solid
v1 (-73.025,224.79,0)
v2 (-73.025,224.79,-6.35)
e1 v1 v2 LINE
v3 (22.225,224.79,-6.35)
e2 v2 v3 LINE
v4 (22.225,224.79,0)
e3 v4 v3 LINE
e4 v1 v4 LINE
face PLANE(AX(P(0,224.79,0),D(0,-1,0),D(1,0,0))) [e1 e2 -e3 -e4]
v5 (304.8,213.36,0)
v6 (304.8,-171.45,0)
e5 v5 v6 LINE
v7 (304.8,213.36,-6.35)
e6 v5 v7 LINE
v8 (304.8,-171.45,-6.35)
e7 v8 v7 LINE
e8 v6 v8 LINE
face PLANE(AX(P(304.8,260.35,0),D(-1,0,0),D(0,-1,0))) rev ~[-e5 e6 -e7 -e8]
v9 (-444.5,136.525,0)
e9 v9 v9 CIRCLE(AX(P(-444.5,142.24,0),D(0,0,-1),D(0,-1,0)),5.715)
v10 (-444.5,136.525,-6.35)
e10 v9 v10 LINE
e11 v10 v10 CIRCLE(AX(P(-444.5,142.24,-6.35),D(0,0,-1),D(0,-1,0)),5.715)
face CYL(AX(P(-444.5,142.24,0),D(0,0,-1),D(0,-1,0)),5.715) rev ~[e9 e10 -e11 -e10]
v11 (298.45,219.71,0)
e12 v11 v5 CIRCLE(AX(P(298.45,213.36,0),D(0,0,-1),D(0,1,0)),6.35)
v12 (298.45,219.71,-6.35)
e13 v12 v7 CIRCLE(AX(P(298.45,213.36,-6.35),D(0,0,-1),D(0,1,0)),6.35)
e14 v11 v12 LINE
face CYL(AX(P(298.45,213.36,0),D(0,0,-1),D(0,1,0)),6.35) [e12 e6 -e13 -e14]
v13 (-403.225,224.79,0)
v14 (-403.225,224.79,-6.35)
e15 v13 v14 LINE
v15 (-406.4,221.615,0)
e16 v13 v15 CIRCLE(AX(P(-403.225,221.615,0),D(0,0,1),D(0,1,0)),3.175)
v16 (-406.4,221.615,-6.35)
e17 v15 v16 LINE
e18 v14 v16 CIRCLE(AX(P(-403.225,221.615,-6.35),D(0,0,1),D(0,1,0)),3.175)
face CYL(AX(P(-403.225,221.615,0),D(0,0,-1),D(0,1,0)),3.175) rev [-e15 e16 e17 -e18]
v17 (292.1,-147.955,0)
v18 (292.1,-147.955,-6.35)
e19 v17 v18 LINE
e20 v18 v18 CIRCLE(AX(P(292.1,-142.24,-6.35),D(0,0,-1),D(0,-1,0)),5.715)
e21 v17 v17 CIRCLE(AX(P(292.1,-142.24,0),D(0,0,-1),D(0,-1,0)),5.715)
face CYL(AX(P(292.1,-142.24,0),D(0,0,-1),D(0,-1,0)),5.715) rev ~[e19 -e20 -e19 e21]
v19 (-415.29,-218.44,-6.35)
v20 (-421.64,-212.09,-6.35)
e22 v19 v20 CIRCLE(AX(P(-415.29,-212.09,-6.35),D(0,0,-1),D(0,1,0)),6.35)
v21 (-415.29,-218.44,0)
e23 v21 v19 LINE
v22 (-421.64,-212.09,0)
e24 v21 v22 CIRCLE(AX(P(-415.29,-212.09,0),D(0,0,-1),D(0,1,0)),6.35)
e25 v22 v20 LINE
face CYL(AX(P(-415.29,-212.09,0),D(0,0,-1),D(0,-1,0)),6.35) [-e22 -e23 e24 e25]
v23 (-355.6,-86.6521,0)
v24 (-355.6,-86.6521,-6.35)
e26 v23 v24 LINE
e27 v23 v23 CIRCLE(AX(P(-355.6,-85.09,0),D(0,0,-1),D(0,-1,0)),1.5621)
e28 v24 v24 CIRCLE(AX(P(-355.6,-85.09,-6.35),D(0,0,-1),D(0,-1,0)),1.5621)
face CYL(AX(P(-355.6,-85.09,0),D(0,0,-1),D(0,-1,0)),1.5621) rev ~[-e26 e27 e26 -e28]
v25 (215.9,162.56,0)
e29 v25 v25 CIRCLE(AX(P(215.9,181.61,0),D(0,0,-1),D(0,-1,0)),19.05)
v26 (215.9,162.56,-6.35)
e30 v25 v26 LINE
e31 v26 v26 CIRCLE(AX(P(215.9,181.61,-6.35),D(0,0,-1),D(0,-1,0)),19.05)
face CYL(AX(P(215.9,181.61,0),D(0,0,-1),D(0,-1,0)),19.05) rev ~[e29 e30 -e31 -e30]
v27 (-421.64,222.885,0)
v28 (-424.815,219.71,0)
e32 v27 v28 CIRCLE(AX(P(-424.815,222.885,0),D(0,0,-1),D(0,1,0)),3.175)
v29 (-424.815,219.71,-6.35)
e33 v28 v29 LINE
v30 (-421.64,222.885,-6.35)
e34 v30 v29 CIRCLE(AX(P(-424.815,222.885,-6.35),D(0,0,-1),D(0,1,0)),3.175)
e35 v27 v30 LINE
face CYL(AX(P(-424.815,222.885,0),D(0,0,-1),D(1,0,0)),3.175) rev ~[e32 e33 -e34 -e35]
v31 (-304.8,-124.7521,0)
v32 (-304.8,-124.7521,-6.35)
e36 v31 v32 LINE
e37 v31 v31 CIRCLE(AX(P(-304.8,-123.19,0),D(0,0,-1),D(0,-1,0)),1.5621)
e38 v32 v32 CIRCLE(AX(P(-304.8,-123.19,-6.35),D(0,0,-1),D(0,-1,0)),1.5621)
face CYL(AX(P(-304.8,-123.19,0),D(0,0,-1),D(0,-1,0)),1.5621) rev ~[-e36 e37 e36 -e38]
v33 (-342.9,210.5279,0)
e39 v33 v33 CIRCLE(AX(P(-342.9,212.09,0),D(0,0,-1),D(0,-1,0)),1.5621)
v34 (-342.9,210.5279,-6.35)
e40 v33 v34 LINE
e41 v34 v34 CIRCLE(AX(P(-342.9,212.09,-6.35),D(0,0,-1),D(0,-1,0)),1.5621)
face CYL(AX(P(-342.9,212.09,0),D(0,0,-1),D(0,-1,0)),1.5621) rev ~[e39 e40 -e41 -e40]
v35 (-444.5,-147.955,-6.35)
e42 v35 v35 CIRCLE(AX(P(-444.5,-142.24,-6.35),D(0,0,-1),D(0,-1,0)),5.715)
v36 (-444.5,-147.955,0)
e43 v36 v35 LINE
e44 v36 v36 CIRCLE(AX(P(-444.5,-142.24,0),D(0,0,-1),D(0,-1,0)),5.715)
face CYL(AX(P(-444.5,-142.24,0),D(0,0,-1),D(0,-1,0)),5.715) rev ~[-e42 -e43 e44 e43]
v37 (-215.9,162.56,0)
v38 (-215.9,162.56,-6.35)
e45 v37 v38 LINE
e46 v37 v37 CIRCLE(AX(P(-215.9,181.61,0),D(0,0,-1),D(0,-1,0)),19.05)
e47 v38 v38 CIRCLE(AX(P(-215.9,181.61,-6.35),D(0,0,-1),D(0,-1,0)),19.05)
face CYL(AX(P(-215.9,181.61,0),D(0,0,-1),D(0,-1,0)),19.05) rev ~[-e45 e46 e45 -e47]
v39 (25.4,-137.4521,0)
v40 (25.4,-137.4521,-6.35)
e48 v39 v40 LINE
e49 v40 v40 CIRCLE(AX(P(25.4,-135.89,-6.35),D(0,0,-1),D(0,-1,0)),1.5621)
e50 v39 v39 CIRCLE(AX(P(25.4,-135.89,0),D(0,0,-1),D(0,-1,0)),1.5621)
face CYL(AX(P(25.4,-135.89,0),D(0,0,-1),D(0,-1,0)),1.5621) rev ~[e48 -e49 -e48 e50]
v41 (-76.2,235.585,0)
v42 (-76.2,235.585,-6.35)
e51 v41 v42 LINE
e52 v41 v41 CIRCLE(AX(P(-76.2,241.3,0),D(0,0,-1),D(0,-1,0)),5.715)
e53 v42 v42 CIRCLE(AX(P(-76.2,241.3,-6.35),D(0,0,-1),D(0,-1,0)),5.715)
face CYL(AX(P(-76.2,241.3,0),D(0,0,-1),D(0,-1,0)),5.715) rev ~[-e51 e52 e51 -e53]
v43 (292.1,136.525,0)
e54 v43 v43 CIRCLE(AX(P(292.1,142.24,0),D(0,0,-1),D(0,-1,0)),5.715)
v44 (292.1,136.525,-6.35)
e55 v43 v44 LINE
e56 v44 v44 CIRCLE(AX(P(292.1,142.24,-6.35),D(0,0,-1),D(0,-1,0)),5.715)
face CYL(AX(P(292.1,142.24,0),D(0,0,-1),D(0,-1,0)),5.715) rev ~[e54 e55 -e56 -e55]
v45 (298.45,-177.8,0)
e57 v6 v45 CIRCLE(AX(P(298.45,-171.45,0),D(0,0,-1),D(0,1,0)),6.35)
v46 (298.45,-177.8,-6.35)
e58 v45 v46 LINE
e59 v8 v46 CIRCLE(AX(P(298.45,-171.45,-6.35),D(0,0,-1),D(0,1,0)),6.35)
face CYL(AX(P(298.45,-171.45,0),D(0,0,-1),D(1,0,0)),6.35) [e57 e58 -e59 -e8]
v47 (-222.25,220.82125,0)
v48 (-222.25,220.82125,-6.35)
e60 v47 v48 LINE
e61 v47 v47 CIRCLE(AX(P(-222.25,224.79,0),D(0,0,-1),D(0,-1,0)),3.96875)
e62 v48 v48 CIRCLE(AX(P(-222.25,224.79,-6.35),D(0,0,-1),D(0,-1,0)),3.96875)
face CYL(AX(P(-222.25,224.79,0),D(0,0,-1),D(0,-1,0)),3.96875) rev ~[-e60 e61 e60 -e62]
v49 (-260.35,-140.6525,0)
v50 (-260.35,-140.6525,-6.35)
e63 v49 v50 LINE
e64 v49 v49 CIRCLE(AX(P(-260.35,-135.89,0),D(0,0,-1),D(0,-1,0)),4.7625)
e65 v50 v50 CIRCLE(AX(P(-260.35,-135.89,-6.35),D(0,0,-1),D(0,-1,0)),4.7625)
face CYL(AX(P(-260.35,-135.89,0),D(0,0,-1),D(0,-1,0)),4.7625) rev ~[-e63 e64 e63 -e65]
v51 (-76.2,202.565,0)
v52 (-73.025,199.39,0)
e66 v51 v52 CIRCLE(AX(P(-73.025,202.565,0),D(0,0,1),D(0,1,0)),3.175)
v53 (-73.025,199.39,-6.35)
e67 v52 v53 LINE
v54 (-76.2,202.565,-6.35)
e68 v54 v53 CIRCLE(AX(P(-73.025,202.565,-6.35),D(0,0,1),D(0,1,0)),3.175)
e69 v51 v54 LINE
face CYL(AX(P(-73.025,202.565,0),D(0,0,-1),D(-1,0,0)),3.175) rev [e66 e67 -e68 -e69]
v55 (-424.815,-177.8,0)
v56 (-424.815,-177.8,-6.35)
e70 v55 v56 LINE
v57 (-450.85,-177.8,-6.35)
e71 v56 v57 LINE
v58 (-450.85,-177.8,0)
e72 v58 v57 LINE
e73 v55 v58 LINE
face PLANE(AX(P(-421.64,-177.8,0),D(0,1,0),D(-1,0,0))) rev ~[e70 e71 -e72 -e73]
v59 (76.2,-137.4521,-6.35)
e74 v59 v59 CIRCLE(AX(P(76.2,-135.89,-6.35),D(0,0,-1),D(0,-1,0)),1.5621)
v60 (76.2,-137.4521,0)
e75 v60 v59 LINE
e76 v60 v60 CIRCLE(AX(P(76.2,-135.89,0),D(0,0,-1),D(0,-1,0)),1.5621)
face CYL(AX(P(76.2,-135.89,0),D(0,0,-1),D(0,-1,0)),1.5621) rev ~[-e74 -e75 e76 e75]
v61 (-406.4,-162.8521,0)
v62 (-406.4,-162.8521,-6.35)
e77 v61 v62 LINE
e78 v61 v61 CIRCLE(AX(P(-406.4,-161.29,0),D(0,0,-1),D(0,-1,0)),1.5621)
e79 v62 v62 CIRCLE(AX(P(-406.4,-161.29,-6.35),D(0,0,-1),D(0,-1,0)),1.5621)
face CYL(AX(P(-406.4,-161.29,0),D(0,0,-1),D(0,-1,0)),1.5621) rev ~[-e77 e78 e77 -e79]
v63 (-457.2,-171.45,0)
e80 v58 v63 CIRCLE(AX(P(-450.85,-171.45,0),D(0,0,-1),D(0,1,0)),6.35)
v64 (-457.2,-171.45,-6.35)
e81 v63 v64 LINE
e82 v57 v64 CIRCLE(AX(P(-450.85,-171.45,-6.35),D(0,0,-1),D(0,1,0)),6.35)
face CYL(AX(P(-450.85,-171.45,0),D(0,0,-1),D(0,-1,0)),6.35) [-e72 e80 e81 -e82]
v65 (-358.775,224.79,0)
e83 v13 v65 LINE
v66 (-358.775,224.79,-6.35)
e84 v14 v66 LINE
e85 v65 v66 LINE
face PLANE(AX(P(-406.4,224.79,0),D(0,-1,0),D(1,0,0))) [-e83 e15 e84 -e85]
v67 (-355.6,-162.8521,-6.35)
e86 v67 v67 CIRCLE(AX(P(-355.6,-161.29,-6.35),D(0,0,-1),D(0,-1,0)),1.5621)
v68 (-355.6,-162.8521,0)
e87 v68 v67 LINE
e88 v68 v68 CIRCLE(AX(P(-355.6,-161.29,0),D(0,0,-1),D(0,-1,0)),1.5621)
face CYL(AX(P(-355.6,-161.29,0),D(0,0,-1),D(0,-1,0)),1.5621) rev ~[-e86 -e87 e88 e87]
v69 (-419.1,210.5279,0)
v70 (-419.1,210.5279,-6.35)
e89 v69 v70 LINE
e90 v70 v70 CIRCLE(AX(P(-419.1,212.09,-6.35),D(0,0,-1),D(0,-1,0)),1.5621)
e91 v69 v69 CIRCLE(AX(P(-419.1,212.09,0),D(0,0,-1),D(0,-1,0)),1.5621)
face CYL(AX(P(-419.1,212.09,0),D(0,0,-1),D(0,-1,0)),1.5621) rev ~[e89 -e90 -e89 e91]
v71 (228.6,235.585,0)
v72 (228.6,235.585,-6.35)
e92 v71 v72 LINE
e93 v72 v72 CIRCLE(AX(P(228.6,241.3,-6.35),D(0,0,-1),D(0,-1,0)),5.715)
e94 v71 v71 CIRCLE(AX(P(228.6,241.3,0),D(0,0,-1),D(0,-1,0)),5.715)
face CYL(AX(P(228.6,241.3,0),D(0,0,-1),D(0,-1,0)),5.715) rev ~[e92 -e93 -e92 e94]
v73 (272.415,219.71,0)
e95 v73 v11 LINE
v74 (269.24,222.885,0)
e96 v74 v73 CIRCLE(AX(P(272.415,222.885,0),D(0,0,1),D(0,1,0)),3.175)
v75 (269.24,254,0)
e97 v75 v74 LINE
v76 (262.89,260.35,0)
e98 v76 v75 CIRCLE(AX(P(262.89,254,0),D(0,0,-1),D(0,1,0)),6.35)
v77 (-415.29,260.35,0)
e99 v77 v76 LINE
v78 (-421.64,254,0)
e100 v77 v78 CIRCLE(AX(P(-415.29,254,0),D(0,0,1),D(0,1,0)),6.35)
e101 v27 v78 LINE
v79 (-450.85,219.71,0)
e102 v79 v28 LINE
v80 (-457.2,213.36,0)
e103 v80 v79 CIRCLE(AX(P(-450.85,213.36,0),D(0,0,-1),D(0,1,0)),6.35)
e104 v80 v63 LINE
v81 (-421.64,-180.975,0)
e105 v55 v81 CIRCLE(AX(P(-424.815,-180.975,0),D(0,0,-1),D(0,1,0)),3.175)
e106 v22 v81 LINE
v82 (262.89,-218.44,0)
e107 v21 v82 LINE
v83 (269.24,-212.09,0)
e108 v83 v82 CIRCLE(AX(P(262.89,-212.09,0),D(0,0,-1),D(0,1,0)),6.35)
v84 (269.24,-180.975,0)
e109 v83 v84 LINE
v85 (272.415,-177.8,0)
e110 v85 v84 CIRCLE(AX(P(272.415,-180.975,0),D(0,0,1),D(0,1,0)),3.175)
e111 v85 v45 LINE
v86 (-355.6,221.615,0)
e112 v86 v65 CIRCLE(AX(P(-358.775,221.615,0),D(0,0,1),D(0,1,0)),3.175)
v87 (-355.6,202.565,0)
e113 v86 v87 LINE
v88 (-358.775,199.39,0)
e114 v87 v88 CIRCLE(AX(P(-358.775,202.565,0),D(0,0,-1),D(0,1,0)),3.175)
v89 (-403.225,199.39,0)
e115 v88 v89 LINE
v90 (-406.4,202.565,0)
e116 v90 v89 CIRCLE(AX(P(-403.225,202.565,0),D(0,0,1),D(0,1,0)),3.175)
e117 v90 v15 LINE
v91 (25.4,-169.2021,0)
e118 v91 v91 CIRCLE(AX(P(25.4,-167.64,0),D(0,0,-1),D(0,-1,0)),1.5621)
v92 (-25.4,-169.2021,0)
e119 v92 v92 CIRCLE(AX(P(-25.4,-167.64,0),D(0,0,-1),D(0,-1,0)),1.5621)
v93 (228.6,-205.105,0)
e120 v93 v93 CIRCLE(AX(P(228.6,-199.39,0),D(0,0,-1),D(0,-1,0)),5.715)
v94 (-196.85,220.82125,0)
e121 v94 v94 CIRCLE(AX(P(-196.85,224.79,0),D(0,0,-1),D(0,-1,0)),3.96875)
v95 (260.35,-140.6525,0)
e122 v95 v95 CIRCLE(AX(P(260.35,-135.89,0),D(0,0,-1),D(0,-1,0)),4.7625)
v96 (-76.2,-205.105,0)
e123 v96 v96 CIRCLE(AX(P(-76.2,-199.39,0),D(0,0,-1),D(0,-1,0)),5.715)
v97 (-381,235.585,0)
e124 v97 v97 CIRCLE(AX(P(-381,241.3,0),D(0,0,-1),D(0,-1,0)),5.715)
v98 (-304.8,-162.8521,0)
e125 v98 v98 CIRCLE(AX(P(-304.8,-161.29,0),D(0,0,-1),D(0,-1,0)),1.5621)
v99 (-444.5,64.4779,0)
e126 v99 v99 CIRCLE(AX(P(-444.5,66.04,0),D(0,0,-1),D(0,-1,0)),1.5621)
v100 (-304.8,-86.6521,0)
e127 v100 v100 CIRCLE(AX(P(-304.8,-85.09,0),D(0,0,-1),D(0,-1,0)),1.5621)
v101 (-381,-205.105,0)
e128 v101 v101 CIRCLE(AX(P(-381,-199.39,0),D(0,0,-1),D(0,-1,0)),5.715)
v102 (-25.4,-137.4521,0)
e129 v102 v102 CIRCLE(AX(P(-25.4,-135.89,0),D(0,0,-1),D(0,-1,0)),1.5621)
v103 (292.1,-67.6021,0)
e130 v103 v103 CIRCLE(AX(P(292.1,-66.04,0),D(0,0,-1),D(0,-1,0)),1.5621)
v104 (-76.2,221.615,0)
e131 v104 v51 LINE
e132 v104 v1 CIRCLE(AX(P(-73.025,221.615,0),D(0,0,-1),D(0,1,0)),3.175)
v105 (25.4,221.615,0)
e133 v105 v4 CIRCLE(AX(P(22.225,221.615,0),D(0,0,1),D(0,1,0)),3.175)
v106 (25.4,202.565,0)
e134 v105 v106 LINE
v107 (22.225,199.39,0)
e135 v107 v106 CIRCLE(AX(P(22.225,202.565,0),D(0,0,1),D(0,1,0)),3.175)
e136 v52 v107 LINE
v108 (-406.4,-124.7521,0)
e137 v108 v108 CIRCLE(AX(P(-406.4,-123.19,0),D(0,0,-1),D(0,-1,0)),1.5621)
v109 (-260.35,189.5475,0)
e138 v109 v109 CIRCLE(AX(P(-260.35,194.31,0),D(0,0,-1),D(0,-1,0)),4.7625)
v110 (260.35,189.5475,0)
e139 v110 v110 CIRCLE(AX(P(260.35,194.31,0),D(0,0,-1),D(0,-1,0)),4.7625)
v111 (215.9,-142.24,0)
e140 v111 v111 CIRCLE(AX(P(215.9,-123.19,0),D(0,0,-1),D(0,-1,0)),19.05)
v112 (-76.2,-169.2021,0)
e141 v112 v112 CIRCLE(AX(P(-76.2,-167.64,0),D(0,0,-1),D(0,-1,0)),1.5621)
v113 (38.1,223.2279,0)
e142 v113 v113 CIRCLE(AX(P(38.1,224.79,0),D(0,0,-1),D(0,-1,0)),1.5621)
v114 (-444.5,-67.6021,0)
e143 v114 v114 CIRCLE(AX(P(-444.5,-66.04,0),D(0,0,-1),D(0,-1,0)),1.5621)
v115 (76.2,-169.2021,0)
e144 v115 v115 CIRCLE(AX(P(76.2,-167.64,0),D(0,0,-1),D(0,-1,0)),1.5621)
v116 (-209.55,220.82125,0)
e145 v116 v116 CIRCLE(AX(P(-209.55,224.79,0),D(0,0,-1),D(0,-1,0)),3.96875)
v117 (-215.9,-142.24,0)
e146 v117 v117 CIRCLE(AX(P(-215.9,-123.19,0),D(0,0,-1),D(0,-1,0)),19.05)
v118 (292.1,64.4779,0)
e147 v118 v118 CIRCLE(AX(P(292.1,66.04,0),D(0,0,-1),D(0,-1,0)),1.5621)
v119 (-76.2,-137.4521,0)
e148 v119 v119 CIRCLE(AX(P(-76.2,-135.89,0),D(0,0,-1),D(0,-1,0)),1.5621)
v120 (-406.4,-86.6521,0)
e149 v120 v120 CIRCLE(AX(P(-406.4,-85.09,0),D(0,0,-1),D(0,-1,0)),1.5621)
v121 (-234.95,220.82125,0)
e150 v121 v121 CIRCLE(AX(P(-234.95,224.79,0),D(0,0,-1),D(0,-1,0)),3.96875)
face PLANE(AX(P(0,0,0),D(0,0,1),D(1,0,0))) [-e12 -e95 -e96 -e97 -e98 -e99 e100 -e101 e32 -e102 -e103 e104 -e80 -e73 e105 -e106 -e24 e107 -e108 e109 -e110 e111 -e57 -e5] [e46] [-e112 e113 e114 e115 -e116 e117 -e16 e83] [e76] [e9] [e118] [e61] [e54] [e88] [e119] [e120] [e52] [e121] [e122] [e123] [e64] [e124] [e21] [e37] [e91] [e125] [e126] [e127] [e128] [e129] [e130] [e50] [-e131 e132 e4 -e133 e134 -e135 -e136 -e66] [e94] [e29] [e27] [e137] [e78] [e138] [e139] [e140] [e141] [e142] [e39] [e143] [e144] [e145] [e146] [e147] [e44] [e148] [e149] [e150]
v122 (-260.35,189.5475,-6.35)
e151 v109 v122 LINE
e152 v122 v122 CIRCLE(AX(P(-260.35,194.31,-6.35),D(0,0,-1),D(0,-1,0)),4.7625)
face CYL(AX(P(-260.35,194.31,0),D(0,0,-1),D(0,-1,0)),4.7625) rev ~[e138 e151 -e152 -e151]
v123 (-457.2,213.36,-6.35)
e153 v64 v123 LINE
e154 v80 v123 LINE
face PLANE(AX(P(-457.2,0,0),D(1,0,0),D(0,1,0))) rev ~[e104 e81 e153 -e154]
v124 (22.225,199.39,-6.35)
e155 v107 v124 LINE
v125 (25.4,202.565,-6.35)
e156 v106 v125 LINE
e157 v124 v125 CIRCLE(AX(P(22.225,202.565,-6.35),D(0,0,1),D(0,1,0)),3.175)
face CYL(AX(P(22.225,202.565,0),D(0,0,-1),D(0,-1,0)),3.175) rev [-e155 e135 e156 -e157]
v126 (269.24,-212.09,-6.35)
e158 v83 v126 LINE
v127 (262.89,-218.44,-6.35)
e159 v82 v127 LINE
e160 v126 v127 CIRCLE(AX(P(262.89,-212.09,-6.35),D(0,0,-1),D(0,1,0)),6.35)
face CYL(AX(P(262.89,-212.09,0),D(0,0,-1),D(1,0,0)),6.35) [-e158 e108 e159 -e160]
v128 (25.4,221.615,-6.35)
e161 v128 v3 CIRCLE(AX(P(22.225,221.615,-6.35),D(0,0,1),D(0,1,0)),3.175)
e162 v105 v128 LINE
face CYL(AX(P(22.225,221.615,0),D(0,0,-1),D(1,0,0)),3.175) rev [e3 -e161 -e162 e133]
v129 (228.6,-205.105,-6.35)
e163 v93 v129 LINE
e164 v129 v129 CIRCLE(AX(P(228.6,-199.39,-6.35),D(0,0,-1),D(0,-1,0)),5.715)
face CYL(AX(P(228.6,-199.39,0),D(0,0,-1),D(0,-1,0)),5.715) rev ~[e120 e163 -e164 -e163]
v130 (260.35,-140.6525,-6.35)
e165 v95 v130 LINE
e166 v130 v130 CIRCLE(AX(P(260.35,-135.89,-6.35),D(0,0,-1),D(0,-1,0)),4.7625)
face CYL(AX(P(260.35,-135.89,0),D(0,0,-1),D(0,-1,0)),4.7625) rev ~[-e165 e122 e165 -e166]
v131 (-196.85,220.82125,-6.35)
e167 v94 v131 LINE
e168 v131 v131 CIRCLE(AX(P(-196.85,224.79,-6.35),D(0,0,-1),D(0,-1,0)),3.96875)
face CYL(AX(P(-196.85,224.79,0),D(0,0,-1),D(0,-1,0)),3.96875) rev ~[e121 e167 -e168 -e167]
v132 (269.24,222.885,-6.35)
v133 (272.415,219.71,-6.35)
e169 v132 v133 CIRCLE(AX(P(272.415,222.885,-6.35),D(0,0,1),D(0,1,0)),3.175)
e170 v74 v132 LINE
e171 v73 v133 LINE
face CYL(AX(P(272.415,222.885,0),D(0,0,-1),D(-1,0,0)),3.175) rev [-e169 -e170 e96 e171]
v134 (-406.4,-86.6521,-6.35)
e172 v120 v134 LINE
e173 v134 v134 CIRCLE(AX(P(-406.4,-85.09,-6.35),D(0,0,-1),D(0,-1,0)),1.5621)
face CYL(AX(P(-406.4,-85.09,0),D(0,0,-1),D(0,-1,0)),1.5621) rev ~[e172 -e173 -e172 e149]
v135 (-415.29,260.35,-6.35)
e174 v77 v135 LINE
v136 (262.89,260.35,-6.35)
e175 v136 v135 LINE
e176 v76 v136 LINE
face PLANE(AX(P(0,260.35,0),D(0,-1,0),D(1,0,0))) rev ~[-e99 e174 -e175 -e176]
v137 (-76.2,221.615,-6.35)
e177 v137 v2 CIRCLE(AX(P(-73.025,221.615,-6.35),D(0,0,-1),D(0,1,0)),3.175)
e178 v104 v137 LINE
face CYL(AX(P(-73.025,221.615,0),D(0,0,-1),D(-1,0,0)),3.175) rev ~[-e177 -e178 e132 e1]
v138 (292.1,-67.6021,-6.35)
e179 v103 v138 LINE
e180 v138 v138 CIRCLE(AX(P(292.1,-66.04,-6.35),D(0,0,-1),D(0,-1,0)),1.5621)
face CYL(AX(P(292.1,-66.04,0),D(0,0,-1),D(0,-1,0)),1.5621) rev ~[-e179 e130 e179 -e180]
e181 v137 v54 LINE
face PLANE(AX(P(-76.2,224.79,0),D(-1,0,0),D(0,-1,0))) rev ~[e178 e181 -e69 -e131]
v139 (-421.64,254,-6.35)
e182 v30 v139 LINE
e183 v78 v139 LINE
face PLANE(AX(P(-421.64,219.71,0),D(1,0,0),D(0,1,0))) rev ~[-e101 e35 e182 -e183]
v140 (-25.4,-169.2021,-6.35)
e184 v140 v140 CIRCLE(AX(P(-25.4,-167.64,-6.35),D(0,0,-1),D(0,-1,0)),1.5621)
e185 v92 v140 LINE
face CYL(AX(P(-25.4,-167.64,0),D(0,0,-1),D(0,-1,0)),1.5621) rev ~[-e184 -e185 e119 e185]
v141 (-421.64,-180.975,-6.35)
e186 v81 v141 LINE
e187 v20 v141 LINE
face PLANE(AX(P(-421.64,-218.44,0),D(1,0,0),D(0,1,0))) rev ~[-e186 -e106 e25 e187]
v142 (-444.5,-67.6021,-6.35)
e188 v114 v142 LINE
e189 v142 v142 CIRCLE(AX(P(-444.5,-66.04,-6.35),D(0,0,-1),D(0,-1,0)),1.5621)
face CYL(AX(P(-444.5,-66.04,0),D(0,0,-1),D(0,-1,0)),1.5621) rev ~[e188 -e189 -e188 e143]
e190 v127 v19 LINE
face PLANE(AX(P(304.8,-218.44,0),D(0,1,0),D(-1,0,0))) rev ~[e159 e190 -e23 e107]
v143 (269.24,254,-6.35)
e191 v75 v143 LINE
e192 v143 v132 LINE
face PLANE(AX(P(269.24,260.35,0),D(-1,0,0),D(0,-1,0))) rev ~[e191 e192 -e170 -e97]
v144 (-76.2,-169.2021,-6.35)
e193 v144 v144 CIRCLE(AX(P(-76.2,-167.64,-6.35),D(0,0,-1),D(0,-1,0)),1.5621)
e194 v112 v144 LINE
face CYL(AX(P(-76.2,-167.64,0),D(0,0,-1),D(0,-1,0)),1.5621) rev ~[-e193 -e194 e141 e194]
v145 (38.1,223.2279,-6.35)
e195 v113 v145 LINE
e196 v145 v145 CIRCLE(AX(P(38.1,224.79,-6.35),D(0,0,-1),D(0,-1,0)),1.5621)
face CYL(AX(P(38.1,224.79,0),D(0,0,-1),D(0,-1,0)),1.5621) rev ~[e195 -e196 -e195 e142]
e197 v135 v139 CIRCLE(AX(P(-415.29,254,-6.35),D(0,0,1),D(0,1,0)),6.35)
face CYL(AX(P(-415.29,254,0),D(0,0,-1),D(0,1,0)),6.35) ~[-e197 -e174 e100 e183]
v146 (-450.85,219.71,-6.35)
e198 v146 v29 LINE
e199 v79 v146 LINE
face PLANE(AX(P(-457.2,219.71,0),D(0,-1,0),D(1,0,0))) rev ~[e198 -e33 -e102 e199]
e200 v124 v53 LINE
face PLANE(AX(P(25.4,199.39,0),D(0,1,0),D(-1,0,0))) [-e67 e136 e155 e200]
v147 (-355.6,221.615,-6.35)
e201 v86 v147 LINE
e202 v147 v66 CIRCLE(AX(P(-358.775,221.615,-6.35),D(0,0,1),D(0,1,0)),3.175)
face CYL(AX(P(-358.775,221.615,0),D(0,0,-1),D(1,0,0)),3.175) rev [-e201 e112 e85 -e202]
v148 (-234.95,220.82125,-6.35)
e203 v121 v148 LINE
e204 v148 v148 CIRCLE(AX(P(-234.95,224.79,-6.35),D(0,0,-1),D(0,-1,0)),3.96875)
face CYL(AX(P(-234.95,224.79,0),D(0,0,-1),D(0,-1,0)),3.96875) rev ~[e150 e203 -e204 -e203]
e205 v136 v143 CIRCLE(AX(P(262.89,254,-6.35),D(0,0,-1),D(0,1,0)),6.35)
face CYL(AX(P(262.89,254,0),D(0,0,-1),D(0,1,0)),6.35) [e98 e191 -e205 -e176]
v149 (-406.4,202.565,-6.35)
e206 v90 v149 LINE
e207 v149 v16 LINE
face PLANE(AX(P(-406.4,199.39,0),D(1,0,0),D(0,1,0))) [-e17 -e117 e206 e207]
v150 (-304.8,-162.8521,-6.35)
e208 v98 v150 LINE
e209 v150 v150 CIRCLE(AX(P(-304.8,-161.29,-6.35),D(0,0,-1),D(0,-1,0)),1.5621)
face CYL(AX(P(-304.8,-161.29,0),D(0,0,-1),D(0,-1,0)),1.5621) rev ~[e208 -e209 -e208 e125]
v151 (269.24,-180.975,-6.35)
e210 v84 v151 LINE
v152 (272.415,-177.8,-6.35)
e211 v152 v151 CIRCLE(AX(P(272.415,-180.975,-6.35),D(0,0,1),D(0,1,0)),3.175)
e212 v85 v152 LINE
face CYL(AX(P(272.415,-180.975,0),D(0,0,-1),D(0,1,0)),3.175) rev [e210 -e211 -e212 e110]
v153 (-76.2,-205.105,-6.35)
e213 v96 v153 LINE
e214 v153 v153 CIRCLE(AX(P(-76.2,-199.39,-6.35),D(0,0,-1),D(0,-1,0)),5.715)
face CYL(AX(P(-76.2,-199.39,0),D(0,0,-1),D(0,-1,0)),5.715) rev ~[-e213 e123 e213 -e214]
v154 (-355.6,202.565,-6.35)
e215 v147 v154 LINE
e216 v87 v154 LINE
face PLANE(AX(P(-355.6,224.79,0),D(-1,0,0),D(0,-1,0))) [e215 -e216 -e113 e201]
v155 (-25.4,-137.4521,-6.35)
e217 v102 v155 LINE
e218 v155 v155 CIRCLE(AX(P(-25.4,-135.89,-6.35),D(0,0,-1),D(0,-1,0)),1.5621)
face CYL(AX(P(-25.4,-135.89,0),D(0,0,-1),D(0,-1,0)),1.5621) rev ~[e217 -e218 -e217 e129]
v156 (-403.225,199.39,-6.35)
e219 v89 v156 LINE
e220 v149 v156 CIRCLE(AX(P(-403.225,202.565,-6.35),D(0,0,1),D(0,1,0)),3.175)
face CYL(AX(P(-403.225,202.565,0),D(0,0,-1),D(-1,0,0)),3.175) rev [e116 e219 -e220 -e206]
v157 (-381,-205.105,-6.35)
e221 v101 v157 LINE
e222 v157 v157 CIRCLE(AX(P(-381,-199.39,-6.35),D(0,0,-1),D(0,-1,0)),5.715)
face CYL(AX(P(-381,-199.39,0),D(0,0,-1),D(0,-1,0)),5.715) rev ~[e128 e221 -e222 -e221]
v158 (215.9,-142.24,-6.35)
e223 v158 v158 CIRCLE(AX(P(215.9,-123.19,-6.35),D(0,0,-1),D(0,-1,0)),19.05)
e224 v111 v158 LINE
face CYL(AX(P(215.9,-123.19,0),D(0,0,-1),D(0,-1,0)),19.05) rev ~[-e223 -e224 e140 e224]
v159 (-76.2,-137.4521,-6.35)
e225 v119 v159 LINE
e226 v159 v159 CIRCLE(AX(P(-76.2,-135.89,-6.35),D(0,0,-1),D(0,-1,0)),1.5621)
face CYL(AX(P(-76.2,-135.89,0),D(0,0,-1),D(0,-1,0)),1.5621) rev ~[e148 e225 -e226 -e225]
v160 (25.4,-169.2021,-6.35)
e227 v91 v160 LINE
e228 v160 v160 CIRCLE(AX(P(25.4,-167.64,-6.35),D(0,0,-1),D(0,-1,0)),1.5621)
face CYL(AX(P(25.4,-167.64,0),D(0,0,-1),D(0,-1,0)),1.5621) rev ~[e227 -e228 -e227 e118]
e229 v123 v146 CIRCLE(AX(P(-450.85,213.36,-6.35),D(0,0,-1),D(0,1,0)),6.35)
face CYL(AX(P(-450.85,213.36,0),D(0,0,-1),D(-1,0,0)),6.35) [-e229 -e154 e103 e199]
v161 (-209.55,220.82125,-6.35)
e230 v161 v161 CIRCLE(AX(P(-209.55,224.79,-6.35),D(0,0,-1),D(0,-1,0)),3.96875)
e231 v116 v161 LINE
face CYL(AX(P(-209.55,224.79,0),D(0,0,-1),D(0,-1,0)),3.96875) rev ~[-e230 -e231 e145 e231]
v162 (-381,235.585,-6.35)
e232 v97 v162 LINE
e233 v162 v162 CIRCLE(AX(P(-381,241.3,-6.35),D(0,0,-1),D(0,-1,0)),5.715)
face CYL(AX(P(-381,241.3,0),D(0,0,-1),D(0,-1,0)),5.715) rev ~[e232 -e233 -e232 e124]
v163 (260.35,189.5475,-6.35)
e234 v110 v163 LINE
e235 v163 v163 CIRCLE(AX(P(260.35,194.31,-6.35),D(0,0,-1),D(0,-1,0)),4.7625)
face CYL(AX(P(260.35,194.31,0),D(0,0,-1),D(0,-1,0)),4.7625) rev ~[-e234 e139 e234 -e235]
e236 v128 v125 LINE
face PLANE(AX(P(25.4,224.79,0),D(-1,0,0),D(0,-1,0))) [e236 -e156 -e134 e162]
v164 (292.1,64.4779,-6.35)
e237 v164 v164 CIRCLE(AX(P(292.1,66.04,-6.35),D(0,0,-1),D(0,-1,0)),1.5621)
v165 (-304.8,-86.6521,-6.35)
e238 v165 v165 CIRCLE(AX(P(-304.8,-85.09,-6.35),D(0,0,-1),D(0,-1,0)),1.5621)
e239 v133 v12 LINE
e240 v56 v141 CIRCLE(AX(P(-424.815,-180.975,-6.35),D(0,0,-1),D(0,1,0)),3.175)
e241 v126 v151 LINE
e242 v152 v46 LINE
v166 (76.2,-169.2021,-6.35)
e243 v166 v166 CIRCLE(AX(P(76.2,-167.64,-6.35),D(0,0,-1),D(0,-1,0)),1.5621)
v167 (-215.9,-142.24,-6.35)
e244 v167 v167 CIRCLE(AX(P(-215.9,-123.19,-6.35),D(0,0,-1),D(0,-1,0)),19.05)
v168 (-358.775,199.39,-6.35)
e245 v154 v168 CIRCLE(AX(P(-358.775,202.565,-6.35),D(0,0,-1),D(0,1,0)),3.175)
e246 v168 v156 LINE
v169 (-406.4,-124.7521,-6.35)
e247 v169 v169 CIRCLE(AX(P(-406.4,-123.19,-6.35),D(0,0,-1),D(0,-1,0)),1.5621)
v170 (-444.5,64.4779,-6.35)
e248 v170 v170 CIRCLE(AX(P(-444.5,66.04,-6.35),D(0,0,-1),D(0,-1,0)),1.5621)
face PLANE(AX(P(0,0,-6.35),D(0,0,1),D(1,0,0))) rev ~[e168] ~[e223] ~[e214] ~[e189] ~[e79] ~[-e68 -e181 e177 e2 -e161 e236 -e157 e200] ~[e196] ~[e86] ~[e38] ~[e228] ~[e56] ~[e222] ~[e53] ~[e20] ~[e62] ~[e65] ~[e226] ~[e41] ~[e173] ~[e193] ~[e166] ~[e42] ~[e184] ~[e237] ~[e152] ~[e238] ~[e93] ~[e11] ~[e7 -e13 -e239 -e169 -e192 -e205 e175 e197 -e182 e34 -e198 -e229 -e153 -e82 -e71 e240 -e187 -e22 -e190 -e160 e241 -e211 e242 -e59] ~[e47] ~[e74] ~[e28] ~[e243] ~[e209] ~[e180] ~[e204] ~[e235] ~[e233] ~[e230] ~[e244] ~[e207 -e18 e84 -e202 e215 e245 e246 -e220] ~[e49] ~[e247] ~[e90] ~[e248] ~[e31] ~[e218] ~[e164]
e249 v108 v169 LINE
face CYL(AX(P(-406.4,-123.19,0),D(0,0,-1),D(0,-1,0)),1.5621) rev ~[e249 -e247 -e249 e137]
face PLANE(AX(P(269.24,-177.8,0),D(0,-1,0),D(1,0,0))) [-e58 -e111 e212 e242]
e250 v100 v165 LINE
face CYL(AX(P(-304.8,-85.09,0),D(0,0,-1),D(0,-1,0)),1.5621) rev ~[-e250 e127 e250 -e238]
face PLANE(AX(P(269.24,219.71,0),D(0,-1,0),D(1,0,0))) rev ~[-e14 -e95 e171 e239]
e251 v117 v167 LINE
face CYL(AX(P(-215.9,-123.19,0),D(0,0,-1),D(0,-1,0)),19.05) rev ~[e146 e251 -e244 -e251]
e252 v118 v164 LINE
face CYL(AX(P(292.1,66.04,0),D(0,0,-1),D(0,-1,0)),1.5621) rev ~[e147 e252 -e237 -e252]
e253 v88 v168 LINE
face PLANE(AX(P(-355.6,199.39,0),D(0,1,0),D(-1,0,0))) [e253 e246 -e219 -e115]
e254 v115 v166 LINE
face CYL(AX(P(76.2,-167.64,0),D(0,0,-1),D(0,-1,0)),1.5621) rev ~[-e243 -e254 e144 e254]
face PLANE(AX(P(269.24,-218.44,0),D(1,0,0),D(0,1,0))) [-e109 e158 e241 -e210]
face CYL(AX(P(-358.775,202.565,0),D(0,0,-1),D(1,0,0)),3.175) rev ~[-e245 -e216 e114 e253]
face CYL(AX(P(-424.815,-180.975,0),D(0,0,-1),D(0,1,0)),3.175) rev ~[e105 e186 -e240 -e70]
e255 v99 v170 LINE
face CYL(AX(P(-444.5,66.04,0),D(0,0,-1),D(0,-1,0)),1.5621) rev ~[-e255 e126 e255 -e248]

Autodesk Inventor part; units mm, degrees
ref_plane "YZ Plane" through (0, 0, 0) normal (1, 0, 0) x (0, 1, 0)
ref_plane "XZ Plane" through (0, 0, 0) normal (0, 1, 0) x (-1, 0, 0)
ref_plane "XY Plane" through (0, 0, 0) normal (0, 0, 1) x (1, 0, 0)
sketch "Sketch1" plane through (0, 0, 0) normal (0, 0, 1) x (1, 0, 0)
  line L0 (0, 356.108) -> (0, -314.198) projected
  line L1 (-609.6, 0) -> (457.2, 0) projected
  line L2 (304.8, -218.44) -> (-457.2, -218.44)
  line L3 (-457.2, -218.44) -> (-457.2, 260.35)
  line L4 (-457.2, 260.35) -> (304.8, 260.35)
  line L5 (304.8, 260.35) -> (304.8, -218.44)
  line L6 (260.35, -135.89) -> (-260.35, -135.89) construction
  line L7 (-260.35, -135.89) -> (-260.35, 194.31) construction
  line L8 (-260.35, 194.31) -> (260.35, 194.31) construction
  line L9 (260.35, 194.31) -> (260.35, -135.89) construction
  line L10 (260.35, -135.89) -> (-260.35, 194.31) construction
  line L11 (-260.35, -135.89) -> (260.35, 194.31) construction
  line L12 (292.1, -142.24) -> (-444.5, -142.24) construction
  line L13 (-444.5, -142.24) -> (-444.5, 142.24) construction
  line L14 (-444.5, 142.24) -> (292.1, 142.24) construction
  line L15 (292.1, 142.24) -> (292.1, -142.24) construction
  line L16 (215.9, -123.19) -> (-215.9, -123.19) construction
  line L17 (-215.9, -123.19) -> (-215.9, 181.61) construction
  line L18 (-215.9, 181.61) -> (215.9, 181.61) construction
  line L19 (215.9, 181.61) -> (215.9, -123.19) construction
  line L20 (215.9, -123.19) -> (-215.9, 181.61) construction
  line L21 (-215.9, -123.19) -> (215.9, 181.61) construction
  line L22 (76.2, -135.89) -> (-76.2, -135.89) construction
  line L23 (-76.2, -135.89) -> (-76.2, -167.64) construction
  line L24 (-76.2, -167.64) -> (76.2, -167.64) construction
  line L25 (76.2, -167.64) -> (76.2, -135.89) construction
  line L26 (76.2, -135.89) -> (-76.2, -167.64) construction
  line L27 (-76.2, -135.89) -> (76.2, -167.64) construction
  point P0 (0, 0)
  point P1 (0, 29.21)
  point P2 (0, 0)
  point P3 (228.6, -199.39)
  point P4 (-381, -199.39)
  point P5 (-76.2, -199.39)
  point P6 (0, -151.765)
  point P7 (-381, 241.3)
  point P8 (-76.2, 241.3)
  point P9 (228.6, 241.3)
  dimension "d1" = 762
  dimension "d2" = 520.7
  dimension "d3" = 330.2
  dimension "d4" = 82.55
  dimension "d5" = 736.6
  dimension "d6" = 76.2
  dimension "d28" = 431.8
  dimension "d29" = 304.8
  dimension "d38" = 304.8
  dimension "d39" = 260.35
  dimension "d40" = 292.1
  dimension "d41" = 19.05
  dimension "d42" = 76.2
  dimension "d43" = 76.2
  dimension "d44" = 304.8
  dimension "d46" = 304.8
  dimension "d47" = 50.8
  dimension "d48" = 31.75
  dimension "d49" = 152.4
  dimension "d60" = 142.24
  dimension "d61" = 218.44
  dimension "d64" = 19.05
extrude "Extrusion1" add sketch "Sketch1" against normal blind 6.35
hole "Hole1" at (-260.35, 194.31, 0) at (-260.35, -135.89, 0) at (260.35, -135.89, 0) at (260.35, 194.31, 0) direction (0, 0, -1) diameter 9.525 end through all
hole "Hole2" at (-444.5, -142.24, 0) at (-444.5, 142.24, 0) at (292.1, 142.24, 0) at (292.1, -142.24, 0) at (-381, -199.39, 0) at (-76.2, -199.39, 0) at (228.6, -199.39, 0) at (-381, 241.3, 0) at (-76.2, 241.3, 0) at (228.6, 241.3, 0) direction (0, 0, -1) diameter 11.43 end through all
sketch "Sketch2" plane through (0, 0, 0) normal (0, 0, 1) x (1, 0, 0)
  line L0 (-457.2, -218.44) -> (-457.2, 260.35) projected
  line L1 (-457.2, -218.44) -> (-421.64, -218.44)
  line L2 (-421.64, -218.44) -> (-421.64, -177.8)
  line L3 (-421.64, -177.8) -> (-457.2, -177.8)
  line L4 (-457.2, -177.8) -> (-457.2, -218.44)
  line L5 (304.8, -218.44) -> (-457.2, -218.44) projected
  line L6 (304.8, -218.44) -> (269.24, -218.44)
  line L7 (269.24, -218.44) -> (269.24, -177.8)
  line L8 (269.24, -177.8) -> (304.8, -177.8)
  line L9 (304.8, -177.8) -> (304.8, -218.44)
  line L10 (-457.2, 219.71) -> (-421.64, 219.71)
  line L11 (-421.64, 219.71) -> (-421.64, 260.35)
  line L12 (-457.2, 260.35) -> (304.8, 260.35) projected
  line L13 (269.24, 260.35) -> (269.24, 219.71)
  line L14 (269.24, 219.71) -> (304.8, 219.71)
  line L15 (304.8, 260.35) -> (304.8, -218.44) projected
  point P0 (0, 0)
  dimension "d24" = 35.56
  dimension "d37" = 40.64
  dimension "d62" = 35.56
  dimension "d63" = 40.64
extrude "Extrusion2" cut sketch "Sketch2" against normal blind 6.35 contours L0 L3 L2 L1 | L0 L12 L11 L10 | L7 L8 L9 L5 | L12 L15 L14 L13
fillet "Fillet1" radius 6.35 8 edges at (269.24, -218.44, -3.175) (304.8, -177.8, -3.175) (-421.64, -218.44, -3.175) (-457.2, -177.8, -3.175) (-457.2, 219.71, -3.175) (-421.64, 260.35, -3.175) (269.24, 260.35, -3.175) (304.8, 219.71, -3.175)
hole "Hole3" at (-215.9, 181.61, 0) at (215.9, 181.61, 0) at (215.9, -123.19, 0) at (-215.9, -123.19, 0) direction (0, 0, -1) diameter 38.1 end through all
hole "Hole4" at (-76.2, -135.89, 0) at (-76.2, -167.64, 0) direction (0, 0, -1) diameter 3.1242 depth 25.4 tip angle 118
pattern_linear "Rectangular Pattern1" count 4 spacing 50.8 along (1, 0, 0) of "Hole4"
sketch "Sketch3" plane through (0, 0, 0) normal (0, 0, 1) x (1, 0, 0)
  line L0 (0, 356.108) -> (0, -314.198) projected
  line L1 (-609.6, 0) -> (457.2, 0) projected
  line L2 (25.4, 199.39) -> (-25.4, 199.39)
  line L3 (-25.4, 199.39) -> (-25.4, 224.79)
  line L4 (-25.4, 224.79) -> (25.4, 224.79)
  line L5 (25.4, 224.79) -> (25.4, 199.39)
  line L6 (25.4, 199.39) -> (-25.4, 224.79) construction
  line L7 (-25.4, 199.39) -> (25.4, 224.79) construction
  line L8 (-415.29, 260.35) -> (262.89, 260.35) projected
  line L9 (-355.6, 199.39) -> (-406.4, 199.39)
  line L10 (-406.4, 199.39) -> (-406.4, 224.79)
  line L11 (-406.4, 224.79) -> (-355.6, 224.79)
  line L12 (-355.6, 224.79) -> (-355.6, 199.39)
  line L13 (-355.6, 199.39) -> (-406.4, 224.79) construction
  line L14 (-406.4, 199.39) -> (-355.6, 224.79) construction
  line L15 (-25.4, 224.79) -> (-76.2, 224.79)
  line L16 (-76.2, 224.79) -> (-76.2, 199.39)
  line L17 (-76.2, 199.39) -> (-25.4, 199.39)
  line L18 (-25.4, 199.39) -> (-25.4, 224.79)
  point P0 (0, 0)
  point P1 (0, 212.09)
  point P2 (-381, 212.09)
  point P3 (-381, 212.09)
  point P4 (0, 212.09)
  point P5 (-342.9, 212.09)
  point P6 (-419.1, 212.09)
  point P7 (38.1, 224.79)
  point P8 (-38.1, 224.79)
  point P9 (0, 212.09)
  point P10 (-381, 212.09)
  point P11 (-196.85, 224.79)
  point P12 (-215.9, 181.61)
  point P13 (-209.55, 224.79)
  point P14 (-222.25, 224.79)
  point P15 (-234.95, 224.79)
  dimension "d65" = 35.56
  dimension "d66" = 50.8
  dimension "d67" = 25.4
  dimension "d68" = 381
  dimension "d69" = 50.8
  dimension "d91" = 38.1
  dimension "d92" = 38.1
  dimension "d95" = 12.7
  dimension "d96" = 38.1
  dimension "d97" = 38.1
  dimension "d98" = 25.4
  dimension "d99" = 50.8
  dimension "d100" = 19.05
  dimension "d103" = 12.7
extrude "Extrusion3" cut sketch "Sketch3" against normal through all
fillet "Fillet2" radius 3.175 8 edges at (-406.4, 224.79, -3.175) (-355.6, 224.79, -3.175) (-355.6, 199.39, -3.175) (-406.4, 199.39, -3.175) (25.4, 224.79, -3.175) (25.4, 199.39, -3.175) (-76.2, 224.79, -3.175) (-76.2, 199.39, -3.175)
fillet "Fillet3" radius 3.175 4 edges at (-421.64, -177.8, -3.175) (269.24, -177.8, -3.175) (269.24, 219.71, -3.175) (-421.64, 219.71, -3.175)
sketch "Sketch4" plane through (0, 0, 0) normal (0, 0, 1) x (1, 0, 0)
  line L0 (-444.5, -142.24) -> (-444.5, 142.24) construction
  line L1 (292.1, 142.24) -> (292.1, -142.24) construction
  circle A0 centre (292.1, -142.24) radius 5.715 projected
  circle A1 centre (-381, 241.3) radius 5.715 construction
  circle A2 centre (228.6, 241.3) radius 5.715 construction
  line L2 (-381, 241.3) -> (228.6, 241.3) construction
  line L3 (-406.4, -161.29) -> (-304.8, -161.29) construction
  line L4 (-304.8, -161.29) -> (-304.8, -85.09) construction
  line L5 (-304.8, -85.09) -> (-406.4, -85.09) construction
  line L6 (-406.4, -85.09) -> (-406.4, -161.29) construction
  point P0 (0, 0)
  point P1 (-444.5, -66.04)
  point P2 (-444.5, 66.04)
  point P3 (292.1, 66.04)
  point P4 (292.1, -66.04)
  point P5 (292.1, -66.04)
  point P6 (-304.8, 241.3)
  point P7 (152.4, 241.3)
  point P8 (-406.4, -123.19)
  point P9 (-304.8, -123.19)
  point P10 (-381, -199.39)
  point P11 (-355.6, -85.09)
  point P12 (-355.6, -161.29)
  point P13 (-419.1, 212.09)
  point P14 (-342.9, 212.09)
  point P15 (-38.1, 224.79)
  point P16 (38.1, 224.79)
  dimension "d74" = 76.2
  dimension "d75" = 76.2
  dimension "d76" = 76.2
  dimension "d77" = 76.2
  dimension "d85" = 76.2
  dimension "d86" = 76.2
  dimension "d87" = 101.6
  dimension "d88" = 76.2
  dimension "d89" = 38.1
  dimension "d90" = 38.1
hole "Hole5" at (-444.5, 66.04, 0) at (-444.5, -66.04, 0) at (292.1, 66.04, 0) at (292.1, -66.04, 0) at (-406.4, -85.09, 0) at (-355.6, -85.09, 0) at (-304.8, -85.09, 0) at (-304.8, -123.19, 0) at (-304.8, -161.29, 0) at (-355.6, -161.29, 0) at (-406.4, -161.29, 0) at (-406.4, -123.19, 0) at (-419.1, 212.09, 0) at (-342.9, 212.09, 0) at (38.1, 224.79, 0) direction (0, 0, -1) diameter 3.1242 end through all
hole "Hole6" at (-234.95, 224.79, 0) at (-222.25, 224.79, 0) at (-209.55, 224.79, 0) at (-196.85, 224.79, 0) direction (0, 0, -1) diameter 7.9375 end through all
properties material "ACETAL COPOLYMER, BLACK"
